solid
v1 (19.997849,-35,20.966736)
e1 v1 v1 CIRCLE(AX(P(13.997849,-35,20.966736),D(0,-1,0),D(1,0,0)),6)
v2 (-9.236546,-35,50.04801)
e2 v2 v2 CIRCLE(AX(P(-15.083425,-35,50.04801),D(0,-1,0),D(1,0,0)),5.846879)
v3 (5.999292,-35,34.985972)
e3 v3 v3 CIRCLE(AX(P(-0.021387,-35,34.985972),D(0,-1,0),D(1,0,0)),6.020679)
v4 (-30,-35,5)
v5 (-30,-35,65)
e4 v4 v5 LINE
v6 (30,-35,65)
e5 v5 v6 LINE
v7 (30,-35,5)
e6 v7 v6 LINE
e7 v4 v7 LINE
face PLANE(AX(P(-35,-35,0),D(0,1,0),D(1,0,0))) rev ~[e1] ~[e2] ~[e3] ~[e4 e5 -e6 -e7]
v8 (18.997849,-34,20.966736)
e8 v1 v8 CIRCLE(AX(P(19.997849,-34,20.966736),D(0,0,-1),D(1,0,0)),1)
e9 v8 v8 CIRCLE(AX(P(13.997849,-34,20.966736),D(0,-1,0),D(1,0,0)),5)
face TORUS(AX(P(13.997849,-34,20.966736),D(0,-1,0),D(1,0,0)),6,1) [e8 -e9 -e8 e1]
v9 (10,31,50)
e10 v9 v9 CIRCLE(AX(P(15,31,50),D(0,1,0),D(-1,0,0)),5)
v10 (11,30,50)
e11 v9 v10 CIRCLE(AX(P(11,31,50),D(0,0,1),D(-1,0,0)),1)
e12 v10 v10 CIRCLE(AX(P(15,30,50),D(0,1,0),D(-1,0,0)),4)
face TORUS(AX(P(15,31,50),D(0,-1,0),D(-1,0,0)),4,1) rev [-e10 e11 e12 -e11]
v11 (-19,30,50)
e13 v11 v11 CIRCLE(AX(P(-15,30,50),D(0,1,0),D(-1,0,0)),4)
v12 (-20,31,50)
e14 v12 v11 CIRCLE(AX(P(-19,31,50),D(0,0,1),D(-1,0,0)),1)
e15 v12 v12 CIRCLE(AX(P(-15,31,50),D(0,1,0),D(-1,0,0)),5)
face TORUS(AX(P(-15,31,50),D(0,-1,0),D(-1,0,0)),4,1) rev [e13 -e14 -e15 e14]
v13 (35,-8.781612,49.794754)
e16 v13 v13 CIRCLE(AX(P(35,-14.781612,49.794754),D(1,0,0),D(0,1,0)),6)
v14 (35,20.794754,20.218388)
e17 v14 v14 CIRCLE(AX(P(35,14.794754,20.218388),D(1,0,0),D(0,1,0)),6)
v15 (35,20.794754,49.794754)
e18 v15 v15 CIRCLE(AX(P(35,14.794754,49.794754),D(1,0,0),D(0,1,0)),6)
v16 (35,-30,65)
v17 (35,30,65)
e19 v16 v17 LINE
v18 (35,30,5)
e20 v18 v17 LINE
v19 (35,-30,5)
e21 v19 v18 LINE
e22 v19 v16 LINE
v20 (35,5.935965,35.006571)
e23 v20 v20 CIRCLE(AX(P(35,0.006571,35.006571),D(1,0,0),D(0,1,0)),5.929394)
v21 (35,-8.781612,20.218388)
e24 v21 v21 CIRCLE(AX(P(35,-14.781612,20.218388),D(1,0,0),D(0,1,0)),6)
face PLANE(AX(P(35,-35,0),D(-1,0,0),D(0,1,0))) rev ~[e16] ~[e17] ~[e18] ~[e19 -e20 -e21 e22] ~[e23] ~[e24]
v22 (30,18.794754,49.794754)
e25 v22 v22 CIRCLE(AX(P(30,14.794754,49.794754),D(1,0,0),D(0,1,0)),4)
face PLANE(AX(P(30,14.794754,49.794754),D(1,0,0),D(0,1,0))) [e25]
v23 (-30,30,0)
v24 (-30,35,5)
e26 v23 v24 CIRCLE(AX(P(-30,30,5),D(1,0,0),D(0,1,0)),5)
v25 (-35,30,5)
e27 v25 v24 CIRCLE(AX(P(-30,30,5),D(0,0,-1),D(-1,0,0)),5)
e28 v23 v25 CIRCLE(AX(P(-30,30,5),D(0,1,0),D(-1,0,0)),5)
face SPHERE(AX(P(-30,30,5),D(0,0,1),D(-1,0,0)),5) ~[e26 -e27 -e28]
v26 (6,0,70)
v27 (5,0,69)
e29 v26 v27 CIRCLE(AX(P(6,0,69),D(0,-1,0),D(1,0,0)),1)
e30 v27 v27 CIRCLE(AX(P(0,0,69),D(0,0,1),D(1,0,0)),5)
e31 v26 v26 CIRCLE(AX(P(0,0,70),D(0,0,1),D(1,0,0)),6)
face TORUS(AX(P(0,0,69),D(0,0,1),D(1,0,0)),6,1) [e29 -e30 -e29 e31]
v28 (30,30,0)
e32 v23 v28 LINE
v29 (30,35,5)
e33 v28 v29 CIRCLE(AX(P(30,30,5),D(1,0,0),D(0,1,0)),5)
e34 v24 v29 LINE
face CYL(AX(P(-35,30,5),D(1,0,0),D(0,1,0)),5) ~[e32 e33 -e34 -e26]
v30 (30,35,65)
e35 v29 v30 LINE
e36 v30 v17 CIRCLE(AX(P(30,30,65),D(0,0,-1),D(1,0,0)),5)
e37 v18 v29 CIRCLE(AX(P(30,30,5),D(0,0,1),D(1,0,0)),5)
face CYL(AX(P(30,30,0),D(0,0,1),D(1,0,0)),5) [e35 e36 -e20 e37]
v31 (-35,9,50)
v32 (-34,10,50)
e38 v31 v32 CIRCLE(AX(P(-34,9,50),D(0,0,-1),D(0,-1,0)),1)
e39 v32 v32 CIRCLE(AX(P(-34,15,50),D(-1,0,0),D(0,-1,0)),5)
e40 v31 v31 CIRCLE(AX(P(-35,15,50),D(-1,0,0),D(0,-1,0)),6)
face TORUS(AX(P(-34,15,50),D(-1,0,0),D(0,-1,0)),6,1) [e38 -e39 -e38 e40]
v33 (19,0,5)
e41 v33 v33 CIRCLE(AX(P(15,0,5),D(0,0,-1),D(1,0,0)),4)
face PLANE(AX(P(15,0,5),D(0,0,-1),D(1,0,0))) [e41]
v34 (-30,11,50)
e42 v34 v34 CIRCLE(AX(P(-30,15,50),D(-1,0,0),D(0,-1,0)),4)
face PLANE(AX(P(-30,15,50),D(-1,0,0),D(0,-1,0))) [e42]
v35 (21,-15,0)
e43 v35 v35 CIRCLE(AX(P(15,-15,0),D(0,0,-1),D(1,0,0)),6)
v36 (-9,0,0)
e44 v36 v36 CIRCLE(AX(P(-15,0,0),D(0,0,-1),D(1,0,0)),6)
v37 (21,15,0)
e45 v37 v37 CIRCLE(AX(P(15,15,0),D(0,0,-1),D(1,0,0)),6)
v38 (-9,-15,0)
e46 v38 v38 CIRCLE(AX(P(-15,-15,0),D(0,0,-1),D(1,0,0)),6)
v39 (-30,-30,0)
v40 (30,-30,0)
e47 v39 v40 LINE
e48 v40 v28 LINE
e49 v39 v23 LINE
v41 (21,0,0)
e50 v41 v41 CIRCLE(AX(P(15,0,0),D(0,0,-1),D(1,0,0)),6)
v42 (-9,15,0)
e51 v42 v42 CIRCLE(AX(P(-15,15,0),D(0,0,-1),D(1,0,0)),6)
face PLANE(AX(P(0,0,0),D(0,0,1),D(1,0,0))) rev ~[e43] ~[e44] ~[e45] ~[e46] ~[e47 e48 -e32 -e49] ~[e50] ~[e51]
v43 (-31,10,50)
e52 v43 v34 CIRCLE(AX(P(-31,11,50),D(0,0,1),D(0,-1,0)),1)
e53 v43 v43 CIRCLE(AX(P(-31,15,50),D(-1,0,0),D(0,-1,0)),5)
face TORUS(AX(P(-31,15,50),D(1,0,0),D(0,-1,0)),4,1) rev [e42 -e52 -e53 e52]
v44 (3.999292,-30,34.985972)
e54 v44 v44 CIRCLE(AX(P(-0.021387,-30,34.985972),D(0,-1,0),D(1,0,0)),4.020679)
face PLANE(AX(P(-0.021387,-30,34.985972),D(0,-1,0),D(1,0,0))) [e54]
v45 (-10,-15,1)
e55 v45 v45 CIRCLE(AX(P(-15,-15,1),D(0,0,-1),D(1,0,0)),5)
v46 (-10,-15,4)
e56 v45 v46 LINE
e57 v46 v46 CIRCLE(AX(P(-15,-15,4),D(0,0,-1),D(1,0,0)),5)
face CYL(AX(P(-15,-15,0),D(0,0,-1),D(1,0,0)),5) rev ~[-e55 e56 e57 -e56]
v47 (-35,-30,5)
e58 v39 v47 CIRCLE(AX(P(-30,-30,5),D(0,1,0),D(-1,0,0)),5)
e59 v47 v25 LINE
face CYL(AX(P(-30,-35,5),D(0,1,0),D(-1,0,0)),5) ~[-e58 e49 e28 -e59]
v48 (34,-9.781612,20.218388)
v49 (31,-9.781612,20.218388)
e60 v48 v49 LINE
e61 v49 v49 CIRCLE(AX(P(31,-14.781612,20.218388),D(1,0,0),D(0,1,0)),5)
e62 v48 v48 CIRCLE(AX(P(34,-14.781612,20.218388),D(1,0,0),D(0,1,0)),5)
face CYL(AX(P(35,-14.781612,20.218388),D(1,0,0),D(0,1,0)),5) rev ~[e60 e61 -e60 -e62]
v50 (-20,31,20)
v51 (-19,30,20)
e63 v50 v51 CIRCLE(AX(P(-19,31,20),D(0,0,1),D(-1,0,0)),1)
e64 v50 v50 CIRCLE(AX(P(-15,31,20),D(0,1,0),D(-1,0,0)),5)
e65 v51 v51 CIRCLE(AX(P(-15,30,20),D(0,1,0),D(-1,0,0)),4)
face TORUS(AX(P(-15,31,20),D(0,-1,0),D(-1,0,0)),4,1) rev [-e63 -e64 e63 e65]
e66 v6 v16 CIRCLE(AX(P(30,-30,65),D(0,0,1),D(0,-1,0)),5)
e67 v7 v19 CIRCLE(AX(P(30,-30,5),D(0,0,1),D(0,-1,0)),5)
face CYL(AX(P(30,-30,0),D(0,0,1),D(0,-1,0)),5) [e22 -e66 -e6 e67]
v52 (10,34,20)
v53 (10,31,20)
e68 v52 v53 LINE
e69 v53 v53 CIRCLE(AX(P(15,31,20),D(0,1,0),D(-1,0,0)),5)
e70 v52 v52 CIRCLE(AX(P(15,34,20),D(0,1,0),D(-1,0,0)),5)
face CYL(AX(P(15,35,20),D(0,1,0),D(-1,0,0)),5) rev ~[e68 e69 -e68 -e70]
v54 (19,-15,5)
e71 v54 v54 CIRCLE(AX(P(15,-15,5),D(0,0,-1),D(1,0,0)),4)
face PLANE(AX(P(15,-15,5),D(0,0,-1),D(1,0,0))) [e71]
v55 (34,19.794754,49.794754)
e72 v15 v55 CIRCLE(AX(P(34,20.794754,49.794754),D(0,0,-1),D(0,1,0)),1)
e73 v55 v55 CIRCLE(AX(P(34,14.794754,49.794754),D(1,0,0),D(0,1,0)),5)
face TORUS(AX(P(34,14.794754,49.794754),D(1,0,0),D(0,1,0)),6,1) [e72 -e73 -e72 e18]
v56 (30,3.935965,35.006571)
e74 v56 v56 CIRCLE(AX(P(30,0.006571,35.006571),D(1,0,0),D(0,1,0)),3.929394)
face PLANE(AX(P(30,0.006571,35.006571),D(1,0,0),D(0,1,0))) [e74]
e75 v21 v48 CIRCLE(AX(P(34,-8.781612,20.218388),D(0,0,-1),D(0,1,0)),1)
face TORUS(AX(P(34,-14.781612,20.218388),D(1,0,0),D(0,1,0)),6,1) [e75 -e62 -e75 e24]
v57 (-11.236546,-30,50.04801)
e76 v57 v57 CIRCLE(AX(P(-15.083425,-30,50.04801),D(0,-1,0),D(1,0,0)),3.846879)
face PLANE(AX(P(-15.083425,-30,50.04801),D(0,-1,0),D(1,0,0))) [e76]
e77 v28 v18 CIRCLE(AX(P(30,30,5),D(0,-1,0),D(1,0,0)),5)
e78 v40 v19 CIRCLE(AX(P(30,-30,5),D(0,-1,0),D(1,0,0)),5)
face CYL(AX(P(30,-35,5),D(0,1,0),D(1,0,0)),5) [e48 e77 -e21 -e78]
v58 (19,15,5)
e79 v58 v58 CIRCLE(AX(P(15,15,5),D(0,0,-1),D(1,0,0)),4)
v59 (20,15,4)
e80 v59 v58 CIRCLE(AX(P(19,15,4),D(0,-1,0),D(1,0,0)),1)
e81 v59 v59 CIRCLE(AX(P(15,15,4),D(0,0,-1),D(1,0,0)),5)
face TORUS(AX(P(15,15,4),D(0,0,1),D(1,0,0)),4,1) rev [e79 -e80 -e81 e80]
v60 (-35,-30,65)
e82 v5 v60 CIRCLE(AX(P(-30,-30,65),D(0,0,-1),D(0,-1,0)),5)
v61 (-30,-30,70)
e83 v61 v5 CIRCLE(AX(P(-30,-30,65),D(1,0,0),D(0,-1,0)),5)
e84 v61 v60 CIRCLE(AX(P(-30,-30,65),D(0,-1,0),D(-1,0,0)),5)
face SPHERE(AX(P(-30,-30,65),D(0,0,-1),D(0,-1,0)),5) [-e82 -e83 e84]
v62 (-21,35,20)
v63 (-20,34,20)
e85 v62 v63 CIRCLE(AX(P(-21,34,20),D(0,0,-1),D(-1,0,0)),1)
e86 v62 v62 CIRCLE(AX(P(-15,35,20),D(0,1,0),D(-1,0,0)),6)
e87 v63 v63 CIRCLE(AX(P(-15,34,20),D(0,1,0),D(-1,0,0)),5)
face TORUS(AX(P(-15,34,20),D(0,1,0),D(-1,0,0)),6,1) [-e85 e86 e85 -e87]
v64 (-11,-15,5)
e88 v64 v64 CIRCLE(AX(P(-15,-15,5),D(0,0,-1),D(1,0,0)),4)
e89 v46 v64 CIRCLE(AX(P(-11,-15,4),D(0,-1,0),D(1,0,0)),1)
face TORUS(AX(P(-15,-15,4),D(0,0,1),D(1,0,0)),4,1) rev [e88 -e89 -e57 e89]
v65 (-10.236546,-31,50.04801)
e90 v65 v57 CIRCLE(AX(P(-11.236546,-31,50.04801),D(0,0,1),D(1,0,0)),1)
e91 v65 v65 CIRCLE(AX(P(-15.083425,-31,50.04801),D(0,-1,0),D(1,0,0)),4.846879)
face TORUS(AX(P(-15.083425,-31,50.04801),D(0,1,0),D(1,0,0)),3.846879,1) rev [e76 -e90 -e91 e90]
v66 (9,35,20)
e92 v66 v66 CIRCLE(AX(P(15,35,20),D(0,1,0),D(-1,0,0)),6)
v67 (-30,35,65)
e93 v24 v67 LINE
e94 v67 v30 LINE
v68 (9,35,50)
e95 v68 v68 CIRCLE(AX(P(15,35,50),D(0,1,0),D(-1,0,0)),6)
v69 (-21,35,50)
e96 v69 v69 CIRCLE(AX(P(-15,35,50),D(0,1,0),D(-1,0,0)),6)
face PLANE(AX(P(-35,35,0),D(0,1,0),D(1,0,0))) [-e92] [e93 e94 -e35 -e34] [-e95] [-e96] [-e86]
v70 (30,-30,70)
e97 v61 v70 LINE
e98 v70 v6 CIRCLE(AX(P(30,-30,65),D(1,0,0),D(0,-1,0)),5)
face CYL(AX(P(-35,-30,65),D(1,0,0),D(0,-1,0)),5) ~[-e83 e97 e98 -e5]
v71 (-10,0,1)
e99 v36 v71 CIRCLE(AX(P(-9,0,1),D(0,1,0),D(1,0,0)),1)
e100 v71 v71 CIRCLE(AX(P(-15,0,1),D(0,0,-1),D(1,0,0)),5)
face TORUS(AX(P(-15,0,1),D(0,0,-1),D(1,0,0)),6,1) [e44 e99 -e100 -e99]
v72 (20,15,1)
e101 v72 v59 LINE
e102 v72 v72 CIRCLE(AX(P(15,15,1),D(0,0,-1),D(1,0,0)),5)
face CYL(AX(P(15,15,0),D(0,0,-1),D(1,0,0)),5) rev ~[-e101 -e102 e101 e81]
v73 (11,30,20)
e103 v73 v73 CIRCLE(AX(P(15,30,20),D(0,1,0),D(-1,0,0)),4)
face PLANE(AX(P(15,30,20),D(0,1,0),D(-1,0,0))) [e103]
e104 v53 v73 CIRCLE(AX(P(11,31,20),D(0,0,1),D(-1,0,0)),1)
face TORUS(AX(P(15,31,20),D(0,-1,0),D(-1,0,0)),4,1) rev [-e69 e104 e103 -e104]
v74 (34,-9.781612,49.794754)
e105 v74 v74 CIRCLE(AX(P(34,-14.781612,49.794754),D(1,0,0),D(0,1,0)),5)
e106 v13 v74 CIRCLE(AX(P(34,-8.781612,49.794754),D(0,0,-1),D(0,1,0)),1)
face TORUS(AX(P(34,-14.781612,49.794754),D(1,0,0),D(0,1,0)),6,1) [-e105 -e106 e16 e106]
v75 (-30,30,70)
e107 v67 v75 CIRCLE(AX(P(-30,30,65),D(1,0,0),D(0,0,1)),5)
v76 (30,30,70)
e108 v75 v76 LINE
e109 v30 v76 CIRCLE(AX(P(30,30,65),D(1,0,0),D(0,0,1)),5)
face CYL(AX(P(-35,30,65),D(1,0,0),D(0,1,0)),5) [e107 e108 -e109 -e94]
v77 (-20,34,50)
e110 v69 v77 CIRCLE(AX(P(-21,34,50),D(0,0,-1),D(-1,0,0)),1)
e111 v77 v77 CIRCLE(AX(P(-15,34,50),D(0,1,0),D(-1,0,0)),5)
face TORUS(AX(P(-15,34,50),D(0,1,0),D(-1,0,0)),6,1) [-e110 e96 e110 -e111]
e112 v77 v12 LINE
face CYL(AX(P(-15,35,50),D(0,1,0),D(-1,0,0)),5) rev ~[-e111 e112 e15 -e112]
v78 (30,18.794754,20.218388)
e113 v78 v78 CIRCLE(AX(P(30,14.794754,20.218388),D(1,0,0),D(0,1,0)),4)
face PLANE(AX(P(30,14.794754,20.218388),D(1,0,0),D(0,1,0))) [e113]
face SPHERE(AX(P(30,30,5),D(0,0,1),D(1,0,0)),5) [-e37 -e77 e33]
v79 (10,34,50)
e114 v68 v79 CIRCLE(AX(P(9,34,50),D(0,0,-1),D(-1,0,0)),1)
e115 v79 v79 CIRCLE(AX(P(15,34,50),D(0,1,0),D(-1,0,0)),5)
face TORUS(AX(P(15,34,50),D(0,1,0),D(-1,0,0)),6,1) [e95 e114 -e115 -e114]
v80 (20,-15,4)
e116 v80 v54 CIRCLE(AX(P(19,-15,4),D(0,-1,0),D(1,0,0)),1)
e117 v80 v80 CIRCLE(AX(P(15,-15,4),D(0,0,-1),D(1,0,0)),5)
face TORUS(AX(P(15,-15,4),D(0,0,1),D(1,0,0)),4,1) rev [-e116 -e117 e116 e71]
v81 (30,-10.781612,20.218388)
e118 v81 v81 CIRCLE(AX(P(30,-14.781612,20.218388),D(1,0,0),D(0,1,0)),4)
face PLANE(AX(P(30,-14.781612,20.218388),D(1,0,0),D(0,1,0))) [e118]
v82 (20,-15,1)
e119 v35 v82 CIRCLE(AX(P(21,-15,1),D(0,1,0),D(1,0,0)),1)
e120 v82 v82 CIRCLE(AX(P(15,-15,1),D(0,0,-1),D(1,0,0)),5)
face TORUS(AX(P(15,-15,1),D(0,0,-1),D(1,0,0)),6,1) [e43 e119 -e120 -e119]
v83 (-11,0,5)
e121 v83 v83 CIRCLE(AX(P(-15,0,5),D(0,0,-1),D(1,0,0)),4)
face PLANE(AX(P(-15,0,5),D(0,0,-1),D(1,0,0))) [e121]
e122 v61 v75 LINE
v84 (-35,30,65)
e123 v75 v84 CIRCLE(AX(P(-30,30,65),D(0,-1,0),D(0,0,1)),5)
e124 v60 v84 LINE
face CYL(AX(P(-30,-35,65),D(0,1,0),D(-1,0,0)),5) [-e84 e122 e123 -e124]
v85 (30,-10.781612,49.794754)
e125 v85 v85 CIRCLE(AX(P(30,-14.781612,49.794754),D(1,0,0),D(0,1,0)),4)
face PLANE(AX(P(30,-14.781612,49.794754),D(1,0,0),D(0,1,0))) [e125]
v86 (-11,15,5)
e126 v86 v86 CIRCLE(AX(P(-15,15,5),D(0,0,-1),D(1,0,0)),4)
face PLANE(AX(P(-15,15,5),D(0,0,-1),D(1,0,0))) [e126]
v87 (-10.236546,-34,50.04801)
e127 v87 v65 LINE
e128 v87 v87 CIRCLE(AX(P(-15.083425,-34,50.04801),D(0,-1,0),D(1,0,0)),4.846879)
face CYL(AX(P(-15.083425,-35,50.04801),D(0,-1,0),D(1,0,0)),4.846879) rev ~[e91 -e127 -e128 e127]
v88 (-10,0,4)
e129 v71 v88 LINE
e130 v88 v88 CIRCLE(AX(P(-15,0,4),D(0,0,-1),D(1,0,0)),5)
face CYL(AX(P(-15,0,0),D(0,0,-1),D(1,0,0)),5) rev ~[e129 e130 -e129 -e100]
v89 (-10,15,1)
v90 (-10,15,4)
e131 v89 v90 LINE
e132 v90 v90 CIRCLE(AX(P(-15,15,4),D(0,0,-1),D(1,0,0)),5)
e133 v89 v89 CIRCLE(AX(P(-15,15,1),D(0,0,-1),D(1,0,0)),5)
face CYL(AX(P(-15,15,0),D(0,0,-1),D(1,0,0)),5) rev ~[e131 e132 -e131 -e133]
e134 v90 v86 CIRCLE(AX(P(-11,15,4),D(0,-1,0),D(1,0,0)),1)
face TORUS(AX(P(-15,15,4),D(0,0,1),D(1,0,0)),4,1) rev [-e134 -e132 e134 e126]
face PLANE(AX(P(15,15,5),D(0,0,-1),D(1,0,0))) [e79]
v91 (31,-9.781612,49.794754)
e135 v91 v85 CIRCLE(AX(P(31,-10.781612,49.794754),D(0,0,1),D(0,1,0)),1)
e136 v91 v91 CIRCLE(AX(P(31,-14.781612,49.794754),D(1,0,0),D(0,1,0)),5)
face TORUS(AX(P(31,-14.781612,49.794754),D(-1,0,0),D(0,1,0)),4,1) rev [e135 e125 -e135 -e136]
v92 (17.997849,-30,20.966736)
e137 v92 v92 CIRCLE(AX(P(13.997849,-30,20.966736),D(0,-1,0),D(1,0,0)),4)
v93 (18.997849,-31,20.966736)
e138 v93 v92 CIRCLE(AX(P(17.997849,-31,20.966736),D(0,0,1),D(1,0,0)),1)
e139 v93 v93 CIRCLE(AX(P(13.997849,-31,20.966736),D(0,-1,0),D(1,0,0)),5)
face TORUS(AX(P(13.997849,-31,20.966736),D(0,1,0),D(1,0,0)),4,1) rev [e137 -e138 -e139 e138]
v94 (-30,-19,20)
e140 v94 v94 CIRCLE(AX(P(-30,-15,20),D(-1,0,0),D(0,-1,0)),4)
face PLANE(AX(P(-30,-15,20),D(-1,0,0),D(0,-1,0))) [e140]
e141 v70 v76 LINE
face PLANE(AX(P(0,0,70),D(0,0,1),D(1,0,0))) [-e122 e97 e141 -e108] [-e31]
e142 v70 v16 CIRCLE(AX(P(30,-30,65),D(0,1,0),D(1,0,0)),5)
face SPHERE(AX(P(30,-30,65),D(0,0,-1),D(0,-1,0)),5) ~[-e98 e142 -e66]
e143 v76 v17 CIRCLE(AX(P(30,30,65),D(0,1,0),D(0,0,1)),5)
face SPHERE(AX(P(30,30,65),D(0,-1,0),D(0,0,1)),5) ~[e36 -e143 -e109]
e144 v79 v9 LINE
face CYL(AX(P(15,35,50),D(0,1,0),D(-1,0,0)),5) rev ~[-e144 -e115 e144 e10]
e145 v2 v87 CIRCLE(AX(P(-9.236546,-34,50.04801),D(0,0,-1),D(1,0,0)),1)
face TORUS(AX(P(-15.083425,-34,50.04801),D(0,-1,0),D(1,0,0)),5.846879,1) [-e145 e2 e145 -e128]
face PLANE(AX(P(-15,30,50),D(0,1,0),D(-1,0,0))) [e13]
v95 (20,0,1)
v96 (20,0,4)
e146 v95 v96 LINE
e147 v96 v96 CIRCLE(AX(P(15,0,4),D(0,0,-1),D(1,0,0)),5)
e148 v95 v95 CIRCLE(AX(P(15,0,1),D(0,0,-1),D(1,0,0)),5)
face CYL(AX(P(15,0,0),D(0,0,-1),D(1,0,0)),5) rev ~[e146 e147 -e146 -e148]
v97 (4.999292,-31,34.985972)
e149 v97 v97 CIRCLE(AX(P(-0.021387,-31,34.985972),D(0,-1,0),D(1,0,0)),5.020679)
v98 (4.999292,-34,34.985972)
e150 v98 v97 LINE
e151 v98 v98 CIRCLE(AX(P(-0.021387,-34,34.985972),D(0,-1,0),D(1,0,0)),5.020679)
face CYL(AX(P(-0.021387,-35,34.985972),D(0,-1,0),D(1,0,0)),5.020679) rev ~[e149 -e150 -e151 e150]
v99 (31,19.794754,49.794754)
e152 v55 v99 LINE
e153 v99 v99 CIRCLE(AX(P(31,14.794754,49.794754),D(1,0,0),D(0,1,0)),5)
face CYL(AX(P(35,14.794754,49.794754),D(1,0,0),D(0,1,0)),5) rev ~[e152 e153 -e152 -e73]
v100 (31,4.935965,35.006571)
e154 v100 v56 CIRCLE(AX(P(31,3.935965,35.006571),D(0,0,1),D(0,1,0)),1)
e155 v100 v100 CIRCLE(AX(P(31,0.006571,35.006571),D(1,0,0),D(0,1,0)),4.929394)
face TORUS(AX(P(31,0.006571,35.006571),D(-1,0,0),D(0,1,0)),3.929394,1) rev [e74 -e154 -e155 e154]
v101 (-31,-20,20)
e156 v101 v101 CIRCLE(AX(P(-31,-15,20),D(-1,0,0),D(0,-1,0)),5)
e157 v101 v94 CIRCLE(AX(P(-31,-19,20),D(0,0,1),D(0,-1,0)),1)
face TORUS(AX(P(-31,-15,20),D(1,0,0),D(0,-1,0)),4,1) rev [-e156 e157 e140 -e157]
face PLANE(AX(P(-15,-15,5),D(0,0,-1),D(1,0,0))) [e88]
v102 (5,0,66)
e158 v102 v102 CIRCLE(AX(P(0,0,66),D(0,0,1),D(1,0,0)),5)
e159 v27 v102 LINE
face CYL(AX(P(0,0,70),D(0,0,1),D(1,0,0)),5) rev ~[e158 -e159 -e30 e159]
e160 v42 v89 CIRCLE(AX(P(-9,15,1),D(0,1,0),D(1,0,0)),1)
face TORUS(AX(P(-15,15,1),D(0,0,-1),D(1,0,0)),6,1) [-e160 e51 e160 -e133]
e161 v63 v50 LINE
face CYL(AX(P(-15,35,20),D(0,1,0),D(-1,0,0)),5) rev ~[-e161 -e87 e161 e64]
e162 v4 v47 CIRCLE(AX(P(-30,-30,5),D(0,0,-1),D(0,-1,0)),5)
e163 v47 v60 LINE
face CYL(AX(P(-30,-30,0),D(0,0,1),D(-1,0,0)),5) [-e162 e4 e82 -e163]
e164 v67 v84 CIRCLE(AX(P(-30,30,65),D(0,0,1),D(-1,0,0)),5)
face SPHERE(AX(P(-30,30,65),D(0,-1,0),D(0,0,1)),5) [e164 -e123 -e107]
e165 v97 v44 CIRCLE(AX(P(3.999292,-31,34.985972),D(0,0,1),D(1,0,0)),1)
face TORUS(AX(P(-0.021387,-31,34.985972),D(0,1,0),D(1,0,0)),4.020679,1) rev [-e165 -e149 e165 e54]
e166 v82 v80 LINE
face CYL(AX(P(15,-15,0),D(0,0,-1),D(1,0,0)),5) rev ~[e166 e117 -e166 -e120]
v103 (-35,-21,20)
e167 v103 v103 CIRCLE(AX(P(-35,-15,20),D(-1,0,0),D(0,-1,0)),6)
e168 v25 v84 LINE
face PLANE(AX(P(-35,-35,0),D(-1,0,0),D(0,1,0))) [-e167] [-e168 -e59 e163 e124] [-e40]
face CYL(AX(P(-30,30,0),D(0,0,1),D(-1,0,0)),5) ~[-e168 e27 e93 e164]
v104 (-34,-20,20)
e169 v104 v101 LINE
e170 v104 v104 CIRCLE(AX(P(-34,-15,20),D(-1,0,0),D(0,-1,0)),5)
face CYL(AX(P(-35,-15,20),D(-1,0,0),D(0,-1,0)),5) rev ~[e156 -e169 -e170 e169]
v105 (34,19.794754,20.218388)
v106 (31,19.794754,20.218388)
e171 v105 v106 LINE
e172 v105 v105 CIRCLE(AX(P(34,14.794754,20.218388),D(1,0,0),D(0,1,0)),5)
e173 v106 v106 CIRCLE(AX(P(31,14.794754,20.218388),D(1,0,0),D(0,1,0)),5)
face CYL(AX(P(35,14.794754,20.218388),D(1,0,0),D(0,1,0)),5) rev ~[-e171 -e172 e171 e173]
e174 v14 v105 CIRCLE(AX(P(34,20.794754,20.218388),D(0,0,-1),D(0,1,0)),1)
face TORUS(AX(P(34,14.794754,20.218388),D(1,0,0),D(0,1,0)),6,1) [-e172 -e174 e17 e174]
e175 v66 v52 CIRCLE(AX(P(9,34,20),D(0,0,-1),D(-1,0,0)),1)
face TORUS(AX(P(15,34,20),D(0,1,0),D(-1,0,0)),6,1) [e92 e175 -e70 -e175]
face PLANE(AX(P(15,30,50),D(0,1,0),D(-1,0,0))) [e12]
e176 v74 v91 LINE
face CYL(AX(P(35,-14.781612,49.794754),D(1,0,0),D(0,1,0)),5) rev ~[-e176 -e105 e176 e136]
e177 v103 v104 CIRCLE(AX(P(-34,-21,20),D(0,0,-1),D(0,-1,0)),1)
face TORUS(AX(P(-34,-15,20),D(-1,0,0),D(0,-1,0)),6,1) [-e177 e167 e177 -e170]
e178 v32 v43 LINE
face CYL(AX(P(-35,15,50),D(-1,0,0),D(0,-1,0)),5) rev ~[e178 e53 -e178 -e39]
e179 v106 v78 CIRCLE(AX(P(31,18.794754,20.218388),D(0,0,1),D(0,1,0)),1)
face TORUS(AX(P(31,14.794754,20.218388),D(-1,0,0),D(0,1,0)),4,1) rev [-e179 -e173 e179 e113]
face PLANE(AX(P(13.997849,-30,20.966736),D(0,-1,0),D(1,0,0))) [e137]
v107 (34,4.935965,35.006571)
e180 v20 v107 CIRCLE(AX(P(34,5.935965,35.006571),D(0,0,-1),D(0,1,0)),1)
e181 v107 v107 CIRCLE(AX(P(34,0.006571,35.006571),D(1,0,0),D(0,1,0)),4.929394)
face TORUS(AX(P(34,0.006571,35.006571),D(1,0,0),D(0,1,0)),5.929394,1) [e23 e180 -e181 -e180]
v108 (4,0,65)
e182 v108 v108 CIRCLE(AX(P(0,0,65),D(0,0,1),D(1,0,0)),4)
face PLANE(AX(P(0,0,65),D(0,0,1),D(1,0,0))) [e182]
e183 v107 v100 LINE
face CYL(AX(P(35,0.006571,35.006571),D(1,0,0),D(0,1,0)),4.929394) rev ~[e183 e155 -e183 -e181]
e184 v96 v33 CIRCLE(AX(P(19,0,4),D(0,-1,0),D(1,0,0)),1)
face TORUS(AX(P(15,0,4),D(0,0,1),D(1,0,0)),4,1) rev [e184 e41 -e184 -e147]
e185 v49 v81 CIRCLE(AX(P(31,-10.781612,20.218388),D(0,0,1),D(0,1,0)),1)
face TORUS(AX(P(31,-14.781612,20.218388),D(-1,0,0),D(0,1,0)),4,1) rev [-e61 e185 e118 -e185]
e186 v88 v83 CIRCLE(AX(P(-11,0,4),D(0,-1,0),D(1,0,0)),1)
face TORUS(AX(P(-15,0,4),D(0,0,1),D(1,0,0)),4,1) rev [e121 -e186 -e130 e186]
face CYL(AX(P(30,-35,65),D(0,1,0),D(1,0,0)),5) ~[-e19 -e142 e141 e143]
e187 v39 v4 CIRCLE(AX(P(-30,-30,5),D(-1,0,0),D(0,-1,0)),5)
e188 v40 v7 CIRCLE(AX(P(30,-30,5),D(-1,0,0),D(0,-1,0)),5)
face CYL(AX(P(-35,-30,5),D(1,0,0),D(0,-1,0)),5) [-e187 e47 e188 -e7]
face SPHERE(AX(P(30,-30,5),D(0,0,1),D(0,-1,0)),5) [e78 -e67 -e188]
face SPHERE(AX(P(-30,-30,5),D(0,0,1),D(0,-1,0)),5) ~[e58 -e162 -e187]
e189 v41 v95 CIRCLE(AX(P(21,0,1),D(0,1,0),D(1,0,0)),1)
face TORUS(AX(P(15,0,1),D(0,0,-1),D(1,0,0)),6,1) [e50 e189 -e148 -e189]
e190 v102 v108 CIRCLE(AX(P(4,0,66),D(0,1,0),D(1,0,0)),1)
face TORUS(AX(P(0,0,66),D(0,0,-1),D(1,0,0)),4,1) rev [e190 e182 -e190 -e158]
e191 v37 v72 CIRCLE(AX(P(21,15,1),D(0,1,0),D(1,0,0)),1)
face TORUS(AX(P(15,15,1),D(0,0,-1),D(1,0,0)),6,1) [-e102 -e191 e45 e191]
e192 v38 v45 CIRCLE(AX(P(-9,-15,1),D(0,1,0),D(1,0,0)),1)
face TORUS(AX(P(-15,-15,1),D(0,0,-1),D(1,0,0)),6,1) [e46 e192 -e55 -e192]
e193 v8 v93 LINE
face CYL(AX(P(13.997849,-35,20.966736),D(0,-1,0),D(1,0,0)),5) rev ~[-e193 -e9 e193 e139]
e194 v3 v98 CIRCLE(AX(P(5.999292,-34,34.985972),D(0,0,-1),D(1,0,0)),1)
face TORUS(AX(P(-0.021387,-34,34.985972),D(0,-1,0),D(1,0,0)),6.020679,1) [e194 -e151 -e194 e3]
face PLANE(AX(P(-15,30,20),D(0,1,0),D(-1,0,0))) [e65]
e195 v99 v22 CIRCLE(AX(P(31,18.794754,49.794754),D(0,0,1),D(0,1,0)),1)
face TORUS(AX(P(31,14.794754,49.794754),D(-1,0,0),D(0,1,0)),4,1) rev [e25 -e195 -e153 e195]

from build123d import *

# Parameters (mm, degrees)
F0_W      = 70
F0_H      = 70
F1_DEPTH  = 70
F2_R      = 5
F3_R      = 5
F4_DEPTH  = 5
F5_R      = 4.846879
F5_R_2    = 5.020679
F5_R_3    = 5
F6_DEPTH  = 5
F7_R      = 5
F8_DEPTH  = 5
F9_R      = 5
F10_DEPTH = 5
F11_R     = 5
F11_R_2   = 4.929394
F12_DEPTH = 5
F14_R     = 1
F15_R     = 1
F16_R     = 1
F13_R     = 5
F17_DEPTH = 5
F18_R     = 1
F19_R     = 1
F20_R     = 1


with BuildPart() as f1:
    # F0 (on Top) → F1 (new body)
    with BuildSketch(Plane.XY):
        Rectangle(F0_W, F0_H)
    extrude(amount=F1_DEPTH)

    # F2
    f2_edges = [f1.edges().sort_by_distance(p)[0] for p in [
        (-35, -35, 35),
        (35, -35, 35),
        (0, -35, 0),
        (0, -35, 70),
        (-35, 0, 70),
        (35, 0, 70),
        (0, 35, 70),
        (35, 35, 35),
        (-35, 35, 35),
        (-35, 0, 0),
        (35, 0, 0),
        (0, 35, 0),
    ]]
    fillet(f2_edges, radius=F2_R)

    # F3 (on face) → F4 (cut)
    with BuildSketch(Plane.XY.offset(70)):
        Circle(F3_R)
    extrude(amount=-F4_DEPTH, mode=Mode.SUBTRACT)

    # F5 (on face) → F6 (cut)
    with BuildSketch(Plane.XZ.offset(35)):
        with Locations((-15.083425, 50.04801)):
            Circle(F5_R)
        with Locations((-0.021387, 34.985972)):
            Circle(F5_R_2)
        with Locations((13.997849, 20.966736)):
            Circle(F5_R_3)
    extrude(amount=-F6_DEPTH, mode=Mode.SUBTRACT)

    # F7 (on face) → F8 (cut)
    with BuildSketch(Plane(origin=(0, 35, 0), x_dir=(-1, 0, 0), z_dir=(0, 1, 0))):
        with Locations((15, 50)):
            Circle(F7_R)
        with Locations((15, 20)):
            Circle(F7_R)
        with Locations((-15, 50)):
            Circle(F7_R)
        with Locations((-15, 20)):
            Circle(F7_R)
    extrude(amount=-F8_DEPTH, mode=Mode.SUBTRACT)

    # F9 (on face) → F10 (cut)
    with BuildSketch(Plane(origin=(0, 0, 0), x_dir=(1, 0, 0), z_dir=(0, 0, -1))):
        with Locations((-15, 15)):
            Circle(F9_R)
        with Locations((15, 0)):
            Circle(F9_R)
        with Locations((-15, 0)):
            Circle(F9_R)
        with Locations((-15, -15)):
            Circle(F9_R)
        with Locations((15, -15)):
            Circle(F9_R)
        with Locations((15, 15)):
            Circle(F9_R)
    extrude(amount=-F10_DEPTH, mode=Mode.SUBTRACT)

    # F11 (on face) → F12 (cut)
    with BuildSketch(Plane.YZ.offset(35)):
        with Locations((-14.781612, 49.794754)):
            Circle(F11_R)
        with Locations((-14.781612, 20.218388)):
            Circle(F11_R)
        with Locations((0.006571, 35.006571)):
            Circle(F11_R_2)
        with Locations((14.794754, 49.794754)):
            Circle(F11_R)
        with Locations((14.794754, 20.218388)):
            Circle(F11_R)
    extrude(amount=-F12_DEPTH, mode=Mode.SUBTRACT)

    # F14
    f14_edges = [f1.edges().sort_by_distance(p)[0] for p in [
        (5, 0, 67.5),
        (-5, 0, 70),
        (-5, 0, 65),
    ]]
    fillet(f14_edges, radius=F14_R)

    # F15
    f15_edges = [f1.edges().sort_by_distance(p)[0] for p in [
        (-10.236546, -32.5, 50.04801),
        (-19.930304, -35, 50.04801),
        (-19.930304, -30, 50.04801),
        (18.997849, -32.5, 20.966736),
        (8.997849, -35, 20.966736),
        (8.997849, -30, 20.966736),
        (4.999292, -32.5, 34.985972),
        (-5.042067, -35, 34.985972),
        (-5.042067, -30, 34.985972),
    ]]
    fillet(f15_edges, radius=F15_R)

    # F16
    f16_edges = [f1.edges().sort_by_distance(p)[0] for p in [
        (32.5, -9.781612, 49.794754),
        (35, -19.781612, 49.794754),
        (30, -19.781612, 49.794754),
        (32.5, 19.794754, 49.794754),
        (35, 9.794754, 49.794754),
        (30, 9.794754, 49.794754),
        (32.5, 19.794754, 20.218388),
        (35, 9.794754, 20.218388),
        (30, 9.794754, 20.218388),
        (32.5, 4.935966, 35.006571),
        (35, -4.922823, 35.006571),
        (30, -4.922823, 35.006571),
        (32.5, -9.781612, 20.218388),
        (35, -19.781612, 20.218388),
        (30, -19.781612, 20.218388),
    ]]
    fillet(f16_edges, radius=F16_R)

    # F13 (on face) → F17 (cut)
    with BuildSketch(Plane(origin=(-35, 0, 0), x_dir=(0, -1, 0), z_dir=(-1, 0, 0))):
        with Locations((-15, 50)):
            Circle(F13_R)
        with Locations((15, 20)):
            Circle(F13_R)
    extrude(amount=-F17_DEPTH, mode=Mode.SUBTRACT)

    # F18
    f18_edges = [f1.edges().sort_by_distance(p)[0] for p in [
        (-32.5, 10, 50),
        (-35, 20, 50),
        (-30, 20, 50),
        (-32.5, -20, 20),
        (-35, -10, 20),
        (-30, -10, 20),
    ]]
    fillet(f18_edges, radius=F18_R)

    # F19
    f19_edges = [f1.edges().sort_by_distance(p)[0] for p in [
        (20, -15, 2.5),
        (10, -15, 0),
        (10, -15, 5),
        (20, 0, 2.5),
        (10, 0, 0),
        (10, 0, 5),
        (20, 15, 2.5),
        (10, 15, 0),
        (10, 15, 5),
        (-10, 15, 2.5),
        (-20, 15, 0),
        (-20, 15, 5),
        (-10, 0, 2.5),
        (-20, 0, 0),
        (-20, 0, 5),
        (-10, -15, 2.5),
        (-20, -15, 0),
        (-20, -15, 5),
    ]]
    fillet(f19_edges, radius=F19_R)

    # F20
    f20_edges = [f1.edges().sort_by_distance(p)[0] for p in [
        (10, 32.5, 50),
        (20, 35, 50),
        (20, 30, 50),
        (-20, 32.5, 50),
        (-10, 35, 50),
        (-10, 30, 50),
        (-20, 32.5, 20),
        (-10, 35, 20),
        (-10, 30, 20),
        (10, 32.5, 20),
        (20, 35, 20),
        (20, 30, 20),
    ]]
    fillet(f20_edges, radius=F20_R)


solid = f1.part
